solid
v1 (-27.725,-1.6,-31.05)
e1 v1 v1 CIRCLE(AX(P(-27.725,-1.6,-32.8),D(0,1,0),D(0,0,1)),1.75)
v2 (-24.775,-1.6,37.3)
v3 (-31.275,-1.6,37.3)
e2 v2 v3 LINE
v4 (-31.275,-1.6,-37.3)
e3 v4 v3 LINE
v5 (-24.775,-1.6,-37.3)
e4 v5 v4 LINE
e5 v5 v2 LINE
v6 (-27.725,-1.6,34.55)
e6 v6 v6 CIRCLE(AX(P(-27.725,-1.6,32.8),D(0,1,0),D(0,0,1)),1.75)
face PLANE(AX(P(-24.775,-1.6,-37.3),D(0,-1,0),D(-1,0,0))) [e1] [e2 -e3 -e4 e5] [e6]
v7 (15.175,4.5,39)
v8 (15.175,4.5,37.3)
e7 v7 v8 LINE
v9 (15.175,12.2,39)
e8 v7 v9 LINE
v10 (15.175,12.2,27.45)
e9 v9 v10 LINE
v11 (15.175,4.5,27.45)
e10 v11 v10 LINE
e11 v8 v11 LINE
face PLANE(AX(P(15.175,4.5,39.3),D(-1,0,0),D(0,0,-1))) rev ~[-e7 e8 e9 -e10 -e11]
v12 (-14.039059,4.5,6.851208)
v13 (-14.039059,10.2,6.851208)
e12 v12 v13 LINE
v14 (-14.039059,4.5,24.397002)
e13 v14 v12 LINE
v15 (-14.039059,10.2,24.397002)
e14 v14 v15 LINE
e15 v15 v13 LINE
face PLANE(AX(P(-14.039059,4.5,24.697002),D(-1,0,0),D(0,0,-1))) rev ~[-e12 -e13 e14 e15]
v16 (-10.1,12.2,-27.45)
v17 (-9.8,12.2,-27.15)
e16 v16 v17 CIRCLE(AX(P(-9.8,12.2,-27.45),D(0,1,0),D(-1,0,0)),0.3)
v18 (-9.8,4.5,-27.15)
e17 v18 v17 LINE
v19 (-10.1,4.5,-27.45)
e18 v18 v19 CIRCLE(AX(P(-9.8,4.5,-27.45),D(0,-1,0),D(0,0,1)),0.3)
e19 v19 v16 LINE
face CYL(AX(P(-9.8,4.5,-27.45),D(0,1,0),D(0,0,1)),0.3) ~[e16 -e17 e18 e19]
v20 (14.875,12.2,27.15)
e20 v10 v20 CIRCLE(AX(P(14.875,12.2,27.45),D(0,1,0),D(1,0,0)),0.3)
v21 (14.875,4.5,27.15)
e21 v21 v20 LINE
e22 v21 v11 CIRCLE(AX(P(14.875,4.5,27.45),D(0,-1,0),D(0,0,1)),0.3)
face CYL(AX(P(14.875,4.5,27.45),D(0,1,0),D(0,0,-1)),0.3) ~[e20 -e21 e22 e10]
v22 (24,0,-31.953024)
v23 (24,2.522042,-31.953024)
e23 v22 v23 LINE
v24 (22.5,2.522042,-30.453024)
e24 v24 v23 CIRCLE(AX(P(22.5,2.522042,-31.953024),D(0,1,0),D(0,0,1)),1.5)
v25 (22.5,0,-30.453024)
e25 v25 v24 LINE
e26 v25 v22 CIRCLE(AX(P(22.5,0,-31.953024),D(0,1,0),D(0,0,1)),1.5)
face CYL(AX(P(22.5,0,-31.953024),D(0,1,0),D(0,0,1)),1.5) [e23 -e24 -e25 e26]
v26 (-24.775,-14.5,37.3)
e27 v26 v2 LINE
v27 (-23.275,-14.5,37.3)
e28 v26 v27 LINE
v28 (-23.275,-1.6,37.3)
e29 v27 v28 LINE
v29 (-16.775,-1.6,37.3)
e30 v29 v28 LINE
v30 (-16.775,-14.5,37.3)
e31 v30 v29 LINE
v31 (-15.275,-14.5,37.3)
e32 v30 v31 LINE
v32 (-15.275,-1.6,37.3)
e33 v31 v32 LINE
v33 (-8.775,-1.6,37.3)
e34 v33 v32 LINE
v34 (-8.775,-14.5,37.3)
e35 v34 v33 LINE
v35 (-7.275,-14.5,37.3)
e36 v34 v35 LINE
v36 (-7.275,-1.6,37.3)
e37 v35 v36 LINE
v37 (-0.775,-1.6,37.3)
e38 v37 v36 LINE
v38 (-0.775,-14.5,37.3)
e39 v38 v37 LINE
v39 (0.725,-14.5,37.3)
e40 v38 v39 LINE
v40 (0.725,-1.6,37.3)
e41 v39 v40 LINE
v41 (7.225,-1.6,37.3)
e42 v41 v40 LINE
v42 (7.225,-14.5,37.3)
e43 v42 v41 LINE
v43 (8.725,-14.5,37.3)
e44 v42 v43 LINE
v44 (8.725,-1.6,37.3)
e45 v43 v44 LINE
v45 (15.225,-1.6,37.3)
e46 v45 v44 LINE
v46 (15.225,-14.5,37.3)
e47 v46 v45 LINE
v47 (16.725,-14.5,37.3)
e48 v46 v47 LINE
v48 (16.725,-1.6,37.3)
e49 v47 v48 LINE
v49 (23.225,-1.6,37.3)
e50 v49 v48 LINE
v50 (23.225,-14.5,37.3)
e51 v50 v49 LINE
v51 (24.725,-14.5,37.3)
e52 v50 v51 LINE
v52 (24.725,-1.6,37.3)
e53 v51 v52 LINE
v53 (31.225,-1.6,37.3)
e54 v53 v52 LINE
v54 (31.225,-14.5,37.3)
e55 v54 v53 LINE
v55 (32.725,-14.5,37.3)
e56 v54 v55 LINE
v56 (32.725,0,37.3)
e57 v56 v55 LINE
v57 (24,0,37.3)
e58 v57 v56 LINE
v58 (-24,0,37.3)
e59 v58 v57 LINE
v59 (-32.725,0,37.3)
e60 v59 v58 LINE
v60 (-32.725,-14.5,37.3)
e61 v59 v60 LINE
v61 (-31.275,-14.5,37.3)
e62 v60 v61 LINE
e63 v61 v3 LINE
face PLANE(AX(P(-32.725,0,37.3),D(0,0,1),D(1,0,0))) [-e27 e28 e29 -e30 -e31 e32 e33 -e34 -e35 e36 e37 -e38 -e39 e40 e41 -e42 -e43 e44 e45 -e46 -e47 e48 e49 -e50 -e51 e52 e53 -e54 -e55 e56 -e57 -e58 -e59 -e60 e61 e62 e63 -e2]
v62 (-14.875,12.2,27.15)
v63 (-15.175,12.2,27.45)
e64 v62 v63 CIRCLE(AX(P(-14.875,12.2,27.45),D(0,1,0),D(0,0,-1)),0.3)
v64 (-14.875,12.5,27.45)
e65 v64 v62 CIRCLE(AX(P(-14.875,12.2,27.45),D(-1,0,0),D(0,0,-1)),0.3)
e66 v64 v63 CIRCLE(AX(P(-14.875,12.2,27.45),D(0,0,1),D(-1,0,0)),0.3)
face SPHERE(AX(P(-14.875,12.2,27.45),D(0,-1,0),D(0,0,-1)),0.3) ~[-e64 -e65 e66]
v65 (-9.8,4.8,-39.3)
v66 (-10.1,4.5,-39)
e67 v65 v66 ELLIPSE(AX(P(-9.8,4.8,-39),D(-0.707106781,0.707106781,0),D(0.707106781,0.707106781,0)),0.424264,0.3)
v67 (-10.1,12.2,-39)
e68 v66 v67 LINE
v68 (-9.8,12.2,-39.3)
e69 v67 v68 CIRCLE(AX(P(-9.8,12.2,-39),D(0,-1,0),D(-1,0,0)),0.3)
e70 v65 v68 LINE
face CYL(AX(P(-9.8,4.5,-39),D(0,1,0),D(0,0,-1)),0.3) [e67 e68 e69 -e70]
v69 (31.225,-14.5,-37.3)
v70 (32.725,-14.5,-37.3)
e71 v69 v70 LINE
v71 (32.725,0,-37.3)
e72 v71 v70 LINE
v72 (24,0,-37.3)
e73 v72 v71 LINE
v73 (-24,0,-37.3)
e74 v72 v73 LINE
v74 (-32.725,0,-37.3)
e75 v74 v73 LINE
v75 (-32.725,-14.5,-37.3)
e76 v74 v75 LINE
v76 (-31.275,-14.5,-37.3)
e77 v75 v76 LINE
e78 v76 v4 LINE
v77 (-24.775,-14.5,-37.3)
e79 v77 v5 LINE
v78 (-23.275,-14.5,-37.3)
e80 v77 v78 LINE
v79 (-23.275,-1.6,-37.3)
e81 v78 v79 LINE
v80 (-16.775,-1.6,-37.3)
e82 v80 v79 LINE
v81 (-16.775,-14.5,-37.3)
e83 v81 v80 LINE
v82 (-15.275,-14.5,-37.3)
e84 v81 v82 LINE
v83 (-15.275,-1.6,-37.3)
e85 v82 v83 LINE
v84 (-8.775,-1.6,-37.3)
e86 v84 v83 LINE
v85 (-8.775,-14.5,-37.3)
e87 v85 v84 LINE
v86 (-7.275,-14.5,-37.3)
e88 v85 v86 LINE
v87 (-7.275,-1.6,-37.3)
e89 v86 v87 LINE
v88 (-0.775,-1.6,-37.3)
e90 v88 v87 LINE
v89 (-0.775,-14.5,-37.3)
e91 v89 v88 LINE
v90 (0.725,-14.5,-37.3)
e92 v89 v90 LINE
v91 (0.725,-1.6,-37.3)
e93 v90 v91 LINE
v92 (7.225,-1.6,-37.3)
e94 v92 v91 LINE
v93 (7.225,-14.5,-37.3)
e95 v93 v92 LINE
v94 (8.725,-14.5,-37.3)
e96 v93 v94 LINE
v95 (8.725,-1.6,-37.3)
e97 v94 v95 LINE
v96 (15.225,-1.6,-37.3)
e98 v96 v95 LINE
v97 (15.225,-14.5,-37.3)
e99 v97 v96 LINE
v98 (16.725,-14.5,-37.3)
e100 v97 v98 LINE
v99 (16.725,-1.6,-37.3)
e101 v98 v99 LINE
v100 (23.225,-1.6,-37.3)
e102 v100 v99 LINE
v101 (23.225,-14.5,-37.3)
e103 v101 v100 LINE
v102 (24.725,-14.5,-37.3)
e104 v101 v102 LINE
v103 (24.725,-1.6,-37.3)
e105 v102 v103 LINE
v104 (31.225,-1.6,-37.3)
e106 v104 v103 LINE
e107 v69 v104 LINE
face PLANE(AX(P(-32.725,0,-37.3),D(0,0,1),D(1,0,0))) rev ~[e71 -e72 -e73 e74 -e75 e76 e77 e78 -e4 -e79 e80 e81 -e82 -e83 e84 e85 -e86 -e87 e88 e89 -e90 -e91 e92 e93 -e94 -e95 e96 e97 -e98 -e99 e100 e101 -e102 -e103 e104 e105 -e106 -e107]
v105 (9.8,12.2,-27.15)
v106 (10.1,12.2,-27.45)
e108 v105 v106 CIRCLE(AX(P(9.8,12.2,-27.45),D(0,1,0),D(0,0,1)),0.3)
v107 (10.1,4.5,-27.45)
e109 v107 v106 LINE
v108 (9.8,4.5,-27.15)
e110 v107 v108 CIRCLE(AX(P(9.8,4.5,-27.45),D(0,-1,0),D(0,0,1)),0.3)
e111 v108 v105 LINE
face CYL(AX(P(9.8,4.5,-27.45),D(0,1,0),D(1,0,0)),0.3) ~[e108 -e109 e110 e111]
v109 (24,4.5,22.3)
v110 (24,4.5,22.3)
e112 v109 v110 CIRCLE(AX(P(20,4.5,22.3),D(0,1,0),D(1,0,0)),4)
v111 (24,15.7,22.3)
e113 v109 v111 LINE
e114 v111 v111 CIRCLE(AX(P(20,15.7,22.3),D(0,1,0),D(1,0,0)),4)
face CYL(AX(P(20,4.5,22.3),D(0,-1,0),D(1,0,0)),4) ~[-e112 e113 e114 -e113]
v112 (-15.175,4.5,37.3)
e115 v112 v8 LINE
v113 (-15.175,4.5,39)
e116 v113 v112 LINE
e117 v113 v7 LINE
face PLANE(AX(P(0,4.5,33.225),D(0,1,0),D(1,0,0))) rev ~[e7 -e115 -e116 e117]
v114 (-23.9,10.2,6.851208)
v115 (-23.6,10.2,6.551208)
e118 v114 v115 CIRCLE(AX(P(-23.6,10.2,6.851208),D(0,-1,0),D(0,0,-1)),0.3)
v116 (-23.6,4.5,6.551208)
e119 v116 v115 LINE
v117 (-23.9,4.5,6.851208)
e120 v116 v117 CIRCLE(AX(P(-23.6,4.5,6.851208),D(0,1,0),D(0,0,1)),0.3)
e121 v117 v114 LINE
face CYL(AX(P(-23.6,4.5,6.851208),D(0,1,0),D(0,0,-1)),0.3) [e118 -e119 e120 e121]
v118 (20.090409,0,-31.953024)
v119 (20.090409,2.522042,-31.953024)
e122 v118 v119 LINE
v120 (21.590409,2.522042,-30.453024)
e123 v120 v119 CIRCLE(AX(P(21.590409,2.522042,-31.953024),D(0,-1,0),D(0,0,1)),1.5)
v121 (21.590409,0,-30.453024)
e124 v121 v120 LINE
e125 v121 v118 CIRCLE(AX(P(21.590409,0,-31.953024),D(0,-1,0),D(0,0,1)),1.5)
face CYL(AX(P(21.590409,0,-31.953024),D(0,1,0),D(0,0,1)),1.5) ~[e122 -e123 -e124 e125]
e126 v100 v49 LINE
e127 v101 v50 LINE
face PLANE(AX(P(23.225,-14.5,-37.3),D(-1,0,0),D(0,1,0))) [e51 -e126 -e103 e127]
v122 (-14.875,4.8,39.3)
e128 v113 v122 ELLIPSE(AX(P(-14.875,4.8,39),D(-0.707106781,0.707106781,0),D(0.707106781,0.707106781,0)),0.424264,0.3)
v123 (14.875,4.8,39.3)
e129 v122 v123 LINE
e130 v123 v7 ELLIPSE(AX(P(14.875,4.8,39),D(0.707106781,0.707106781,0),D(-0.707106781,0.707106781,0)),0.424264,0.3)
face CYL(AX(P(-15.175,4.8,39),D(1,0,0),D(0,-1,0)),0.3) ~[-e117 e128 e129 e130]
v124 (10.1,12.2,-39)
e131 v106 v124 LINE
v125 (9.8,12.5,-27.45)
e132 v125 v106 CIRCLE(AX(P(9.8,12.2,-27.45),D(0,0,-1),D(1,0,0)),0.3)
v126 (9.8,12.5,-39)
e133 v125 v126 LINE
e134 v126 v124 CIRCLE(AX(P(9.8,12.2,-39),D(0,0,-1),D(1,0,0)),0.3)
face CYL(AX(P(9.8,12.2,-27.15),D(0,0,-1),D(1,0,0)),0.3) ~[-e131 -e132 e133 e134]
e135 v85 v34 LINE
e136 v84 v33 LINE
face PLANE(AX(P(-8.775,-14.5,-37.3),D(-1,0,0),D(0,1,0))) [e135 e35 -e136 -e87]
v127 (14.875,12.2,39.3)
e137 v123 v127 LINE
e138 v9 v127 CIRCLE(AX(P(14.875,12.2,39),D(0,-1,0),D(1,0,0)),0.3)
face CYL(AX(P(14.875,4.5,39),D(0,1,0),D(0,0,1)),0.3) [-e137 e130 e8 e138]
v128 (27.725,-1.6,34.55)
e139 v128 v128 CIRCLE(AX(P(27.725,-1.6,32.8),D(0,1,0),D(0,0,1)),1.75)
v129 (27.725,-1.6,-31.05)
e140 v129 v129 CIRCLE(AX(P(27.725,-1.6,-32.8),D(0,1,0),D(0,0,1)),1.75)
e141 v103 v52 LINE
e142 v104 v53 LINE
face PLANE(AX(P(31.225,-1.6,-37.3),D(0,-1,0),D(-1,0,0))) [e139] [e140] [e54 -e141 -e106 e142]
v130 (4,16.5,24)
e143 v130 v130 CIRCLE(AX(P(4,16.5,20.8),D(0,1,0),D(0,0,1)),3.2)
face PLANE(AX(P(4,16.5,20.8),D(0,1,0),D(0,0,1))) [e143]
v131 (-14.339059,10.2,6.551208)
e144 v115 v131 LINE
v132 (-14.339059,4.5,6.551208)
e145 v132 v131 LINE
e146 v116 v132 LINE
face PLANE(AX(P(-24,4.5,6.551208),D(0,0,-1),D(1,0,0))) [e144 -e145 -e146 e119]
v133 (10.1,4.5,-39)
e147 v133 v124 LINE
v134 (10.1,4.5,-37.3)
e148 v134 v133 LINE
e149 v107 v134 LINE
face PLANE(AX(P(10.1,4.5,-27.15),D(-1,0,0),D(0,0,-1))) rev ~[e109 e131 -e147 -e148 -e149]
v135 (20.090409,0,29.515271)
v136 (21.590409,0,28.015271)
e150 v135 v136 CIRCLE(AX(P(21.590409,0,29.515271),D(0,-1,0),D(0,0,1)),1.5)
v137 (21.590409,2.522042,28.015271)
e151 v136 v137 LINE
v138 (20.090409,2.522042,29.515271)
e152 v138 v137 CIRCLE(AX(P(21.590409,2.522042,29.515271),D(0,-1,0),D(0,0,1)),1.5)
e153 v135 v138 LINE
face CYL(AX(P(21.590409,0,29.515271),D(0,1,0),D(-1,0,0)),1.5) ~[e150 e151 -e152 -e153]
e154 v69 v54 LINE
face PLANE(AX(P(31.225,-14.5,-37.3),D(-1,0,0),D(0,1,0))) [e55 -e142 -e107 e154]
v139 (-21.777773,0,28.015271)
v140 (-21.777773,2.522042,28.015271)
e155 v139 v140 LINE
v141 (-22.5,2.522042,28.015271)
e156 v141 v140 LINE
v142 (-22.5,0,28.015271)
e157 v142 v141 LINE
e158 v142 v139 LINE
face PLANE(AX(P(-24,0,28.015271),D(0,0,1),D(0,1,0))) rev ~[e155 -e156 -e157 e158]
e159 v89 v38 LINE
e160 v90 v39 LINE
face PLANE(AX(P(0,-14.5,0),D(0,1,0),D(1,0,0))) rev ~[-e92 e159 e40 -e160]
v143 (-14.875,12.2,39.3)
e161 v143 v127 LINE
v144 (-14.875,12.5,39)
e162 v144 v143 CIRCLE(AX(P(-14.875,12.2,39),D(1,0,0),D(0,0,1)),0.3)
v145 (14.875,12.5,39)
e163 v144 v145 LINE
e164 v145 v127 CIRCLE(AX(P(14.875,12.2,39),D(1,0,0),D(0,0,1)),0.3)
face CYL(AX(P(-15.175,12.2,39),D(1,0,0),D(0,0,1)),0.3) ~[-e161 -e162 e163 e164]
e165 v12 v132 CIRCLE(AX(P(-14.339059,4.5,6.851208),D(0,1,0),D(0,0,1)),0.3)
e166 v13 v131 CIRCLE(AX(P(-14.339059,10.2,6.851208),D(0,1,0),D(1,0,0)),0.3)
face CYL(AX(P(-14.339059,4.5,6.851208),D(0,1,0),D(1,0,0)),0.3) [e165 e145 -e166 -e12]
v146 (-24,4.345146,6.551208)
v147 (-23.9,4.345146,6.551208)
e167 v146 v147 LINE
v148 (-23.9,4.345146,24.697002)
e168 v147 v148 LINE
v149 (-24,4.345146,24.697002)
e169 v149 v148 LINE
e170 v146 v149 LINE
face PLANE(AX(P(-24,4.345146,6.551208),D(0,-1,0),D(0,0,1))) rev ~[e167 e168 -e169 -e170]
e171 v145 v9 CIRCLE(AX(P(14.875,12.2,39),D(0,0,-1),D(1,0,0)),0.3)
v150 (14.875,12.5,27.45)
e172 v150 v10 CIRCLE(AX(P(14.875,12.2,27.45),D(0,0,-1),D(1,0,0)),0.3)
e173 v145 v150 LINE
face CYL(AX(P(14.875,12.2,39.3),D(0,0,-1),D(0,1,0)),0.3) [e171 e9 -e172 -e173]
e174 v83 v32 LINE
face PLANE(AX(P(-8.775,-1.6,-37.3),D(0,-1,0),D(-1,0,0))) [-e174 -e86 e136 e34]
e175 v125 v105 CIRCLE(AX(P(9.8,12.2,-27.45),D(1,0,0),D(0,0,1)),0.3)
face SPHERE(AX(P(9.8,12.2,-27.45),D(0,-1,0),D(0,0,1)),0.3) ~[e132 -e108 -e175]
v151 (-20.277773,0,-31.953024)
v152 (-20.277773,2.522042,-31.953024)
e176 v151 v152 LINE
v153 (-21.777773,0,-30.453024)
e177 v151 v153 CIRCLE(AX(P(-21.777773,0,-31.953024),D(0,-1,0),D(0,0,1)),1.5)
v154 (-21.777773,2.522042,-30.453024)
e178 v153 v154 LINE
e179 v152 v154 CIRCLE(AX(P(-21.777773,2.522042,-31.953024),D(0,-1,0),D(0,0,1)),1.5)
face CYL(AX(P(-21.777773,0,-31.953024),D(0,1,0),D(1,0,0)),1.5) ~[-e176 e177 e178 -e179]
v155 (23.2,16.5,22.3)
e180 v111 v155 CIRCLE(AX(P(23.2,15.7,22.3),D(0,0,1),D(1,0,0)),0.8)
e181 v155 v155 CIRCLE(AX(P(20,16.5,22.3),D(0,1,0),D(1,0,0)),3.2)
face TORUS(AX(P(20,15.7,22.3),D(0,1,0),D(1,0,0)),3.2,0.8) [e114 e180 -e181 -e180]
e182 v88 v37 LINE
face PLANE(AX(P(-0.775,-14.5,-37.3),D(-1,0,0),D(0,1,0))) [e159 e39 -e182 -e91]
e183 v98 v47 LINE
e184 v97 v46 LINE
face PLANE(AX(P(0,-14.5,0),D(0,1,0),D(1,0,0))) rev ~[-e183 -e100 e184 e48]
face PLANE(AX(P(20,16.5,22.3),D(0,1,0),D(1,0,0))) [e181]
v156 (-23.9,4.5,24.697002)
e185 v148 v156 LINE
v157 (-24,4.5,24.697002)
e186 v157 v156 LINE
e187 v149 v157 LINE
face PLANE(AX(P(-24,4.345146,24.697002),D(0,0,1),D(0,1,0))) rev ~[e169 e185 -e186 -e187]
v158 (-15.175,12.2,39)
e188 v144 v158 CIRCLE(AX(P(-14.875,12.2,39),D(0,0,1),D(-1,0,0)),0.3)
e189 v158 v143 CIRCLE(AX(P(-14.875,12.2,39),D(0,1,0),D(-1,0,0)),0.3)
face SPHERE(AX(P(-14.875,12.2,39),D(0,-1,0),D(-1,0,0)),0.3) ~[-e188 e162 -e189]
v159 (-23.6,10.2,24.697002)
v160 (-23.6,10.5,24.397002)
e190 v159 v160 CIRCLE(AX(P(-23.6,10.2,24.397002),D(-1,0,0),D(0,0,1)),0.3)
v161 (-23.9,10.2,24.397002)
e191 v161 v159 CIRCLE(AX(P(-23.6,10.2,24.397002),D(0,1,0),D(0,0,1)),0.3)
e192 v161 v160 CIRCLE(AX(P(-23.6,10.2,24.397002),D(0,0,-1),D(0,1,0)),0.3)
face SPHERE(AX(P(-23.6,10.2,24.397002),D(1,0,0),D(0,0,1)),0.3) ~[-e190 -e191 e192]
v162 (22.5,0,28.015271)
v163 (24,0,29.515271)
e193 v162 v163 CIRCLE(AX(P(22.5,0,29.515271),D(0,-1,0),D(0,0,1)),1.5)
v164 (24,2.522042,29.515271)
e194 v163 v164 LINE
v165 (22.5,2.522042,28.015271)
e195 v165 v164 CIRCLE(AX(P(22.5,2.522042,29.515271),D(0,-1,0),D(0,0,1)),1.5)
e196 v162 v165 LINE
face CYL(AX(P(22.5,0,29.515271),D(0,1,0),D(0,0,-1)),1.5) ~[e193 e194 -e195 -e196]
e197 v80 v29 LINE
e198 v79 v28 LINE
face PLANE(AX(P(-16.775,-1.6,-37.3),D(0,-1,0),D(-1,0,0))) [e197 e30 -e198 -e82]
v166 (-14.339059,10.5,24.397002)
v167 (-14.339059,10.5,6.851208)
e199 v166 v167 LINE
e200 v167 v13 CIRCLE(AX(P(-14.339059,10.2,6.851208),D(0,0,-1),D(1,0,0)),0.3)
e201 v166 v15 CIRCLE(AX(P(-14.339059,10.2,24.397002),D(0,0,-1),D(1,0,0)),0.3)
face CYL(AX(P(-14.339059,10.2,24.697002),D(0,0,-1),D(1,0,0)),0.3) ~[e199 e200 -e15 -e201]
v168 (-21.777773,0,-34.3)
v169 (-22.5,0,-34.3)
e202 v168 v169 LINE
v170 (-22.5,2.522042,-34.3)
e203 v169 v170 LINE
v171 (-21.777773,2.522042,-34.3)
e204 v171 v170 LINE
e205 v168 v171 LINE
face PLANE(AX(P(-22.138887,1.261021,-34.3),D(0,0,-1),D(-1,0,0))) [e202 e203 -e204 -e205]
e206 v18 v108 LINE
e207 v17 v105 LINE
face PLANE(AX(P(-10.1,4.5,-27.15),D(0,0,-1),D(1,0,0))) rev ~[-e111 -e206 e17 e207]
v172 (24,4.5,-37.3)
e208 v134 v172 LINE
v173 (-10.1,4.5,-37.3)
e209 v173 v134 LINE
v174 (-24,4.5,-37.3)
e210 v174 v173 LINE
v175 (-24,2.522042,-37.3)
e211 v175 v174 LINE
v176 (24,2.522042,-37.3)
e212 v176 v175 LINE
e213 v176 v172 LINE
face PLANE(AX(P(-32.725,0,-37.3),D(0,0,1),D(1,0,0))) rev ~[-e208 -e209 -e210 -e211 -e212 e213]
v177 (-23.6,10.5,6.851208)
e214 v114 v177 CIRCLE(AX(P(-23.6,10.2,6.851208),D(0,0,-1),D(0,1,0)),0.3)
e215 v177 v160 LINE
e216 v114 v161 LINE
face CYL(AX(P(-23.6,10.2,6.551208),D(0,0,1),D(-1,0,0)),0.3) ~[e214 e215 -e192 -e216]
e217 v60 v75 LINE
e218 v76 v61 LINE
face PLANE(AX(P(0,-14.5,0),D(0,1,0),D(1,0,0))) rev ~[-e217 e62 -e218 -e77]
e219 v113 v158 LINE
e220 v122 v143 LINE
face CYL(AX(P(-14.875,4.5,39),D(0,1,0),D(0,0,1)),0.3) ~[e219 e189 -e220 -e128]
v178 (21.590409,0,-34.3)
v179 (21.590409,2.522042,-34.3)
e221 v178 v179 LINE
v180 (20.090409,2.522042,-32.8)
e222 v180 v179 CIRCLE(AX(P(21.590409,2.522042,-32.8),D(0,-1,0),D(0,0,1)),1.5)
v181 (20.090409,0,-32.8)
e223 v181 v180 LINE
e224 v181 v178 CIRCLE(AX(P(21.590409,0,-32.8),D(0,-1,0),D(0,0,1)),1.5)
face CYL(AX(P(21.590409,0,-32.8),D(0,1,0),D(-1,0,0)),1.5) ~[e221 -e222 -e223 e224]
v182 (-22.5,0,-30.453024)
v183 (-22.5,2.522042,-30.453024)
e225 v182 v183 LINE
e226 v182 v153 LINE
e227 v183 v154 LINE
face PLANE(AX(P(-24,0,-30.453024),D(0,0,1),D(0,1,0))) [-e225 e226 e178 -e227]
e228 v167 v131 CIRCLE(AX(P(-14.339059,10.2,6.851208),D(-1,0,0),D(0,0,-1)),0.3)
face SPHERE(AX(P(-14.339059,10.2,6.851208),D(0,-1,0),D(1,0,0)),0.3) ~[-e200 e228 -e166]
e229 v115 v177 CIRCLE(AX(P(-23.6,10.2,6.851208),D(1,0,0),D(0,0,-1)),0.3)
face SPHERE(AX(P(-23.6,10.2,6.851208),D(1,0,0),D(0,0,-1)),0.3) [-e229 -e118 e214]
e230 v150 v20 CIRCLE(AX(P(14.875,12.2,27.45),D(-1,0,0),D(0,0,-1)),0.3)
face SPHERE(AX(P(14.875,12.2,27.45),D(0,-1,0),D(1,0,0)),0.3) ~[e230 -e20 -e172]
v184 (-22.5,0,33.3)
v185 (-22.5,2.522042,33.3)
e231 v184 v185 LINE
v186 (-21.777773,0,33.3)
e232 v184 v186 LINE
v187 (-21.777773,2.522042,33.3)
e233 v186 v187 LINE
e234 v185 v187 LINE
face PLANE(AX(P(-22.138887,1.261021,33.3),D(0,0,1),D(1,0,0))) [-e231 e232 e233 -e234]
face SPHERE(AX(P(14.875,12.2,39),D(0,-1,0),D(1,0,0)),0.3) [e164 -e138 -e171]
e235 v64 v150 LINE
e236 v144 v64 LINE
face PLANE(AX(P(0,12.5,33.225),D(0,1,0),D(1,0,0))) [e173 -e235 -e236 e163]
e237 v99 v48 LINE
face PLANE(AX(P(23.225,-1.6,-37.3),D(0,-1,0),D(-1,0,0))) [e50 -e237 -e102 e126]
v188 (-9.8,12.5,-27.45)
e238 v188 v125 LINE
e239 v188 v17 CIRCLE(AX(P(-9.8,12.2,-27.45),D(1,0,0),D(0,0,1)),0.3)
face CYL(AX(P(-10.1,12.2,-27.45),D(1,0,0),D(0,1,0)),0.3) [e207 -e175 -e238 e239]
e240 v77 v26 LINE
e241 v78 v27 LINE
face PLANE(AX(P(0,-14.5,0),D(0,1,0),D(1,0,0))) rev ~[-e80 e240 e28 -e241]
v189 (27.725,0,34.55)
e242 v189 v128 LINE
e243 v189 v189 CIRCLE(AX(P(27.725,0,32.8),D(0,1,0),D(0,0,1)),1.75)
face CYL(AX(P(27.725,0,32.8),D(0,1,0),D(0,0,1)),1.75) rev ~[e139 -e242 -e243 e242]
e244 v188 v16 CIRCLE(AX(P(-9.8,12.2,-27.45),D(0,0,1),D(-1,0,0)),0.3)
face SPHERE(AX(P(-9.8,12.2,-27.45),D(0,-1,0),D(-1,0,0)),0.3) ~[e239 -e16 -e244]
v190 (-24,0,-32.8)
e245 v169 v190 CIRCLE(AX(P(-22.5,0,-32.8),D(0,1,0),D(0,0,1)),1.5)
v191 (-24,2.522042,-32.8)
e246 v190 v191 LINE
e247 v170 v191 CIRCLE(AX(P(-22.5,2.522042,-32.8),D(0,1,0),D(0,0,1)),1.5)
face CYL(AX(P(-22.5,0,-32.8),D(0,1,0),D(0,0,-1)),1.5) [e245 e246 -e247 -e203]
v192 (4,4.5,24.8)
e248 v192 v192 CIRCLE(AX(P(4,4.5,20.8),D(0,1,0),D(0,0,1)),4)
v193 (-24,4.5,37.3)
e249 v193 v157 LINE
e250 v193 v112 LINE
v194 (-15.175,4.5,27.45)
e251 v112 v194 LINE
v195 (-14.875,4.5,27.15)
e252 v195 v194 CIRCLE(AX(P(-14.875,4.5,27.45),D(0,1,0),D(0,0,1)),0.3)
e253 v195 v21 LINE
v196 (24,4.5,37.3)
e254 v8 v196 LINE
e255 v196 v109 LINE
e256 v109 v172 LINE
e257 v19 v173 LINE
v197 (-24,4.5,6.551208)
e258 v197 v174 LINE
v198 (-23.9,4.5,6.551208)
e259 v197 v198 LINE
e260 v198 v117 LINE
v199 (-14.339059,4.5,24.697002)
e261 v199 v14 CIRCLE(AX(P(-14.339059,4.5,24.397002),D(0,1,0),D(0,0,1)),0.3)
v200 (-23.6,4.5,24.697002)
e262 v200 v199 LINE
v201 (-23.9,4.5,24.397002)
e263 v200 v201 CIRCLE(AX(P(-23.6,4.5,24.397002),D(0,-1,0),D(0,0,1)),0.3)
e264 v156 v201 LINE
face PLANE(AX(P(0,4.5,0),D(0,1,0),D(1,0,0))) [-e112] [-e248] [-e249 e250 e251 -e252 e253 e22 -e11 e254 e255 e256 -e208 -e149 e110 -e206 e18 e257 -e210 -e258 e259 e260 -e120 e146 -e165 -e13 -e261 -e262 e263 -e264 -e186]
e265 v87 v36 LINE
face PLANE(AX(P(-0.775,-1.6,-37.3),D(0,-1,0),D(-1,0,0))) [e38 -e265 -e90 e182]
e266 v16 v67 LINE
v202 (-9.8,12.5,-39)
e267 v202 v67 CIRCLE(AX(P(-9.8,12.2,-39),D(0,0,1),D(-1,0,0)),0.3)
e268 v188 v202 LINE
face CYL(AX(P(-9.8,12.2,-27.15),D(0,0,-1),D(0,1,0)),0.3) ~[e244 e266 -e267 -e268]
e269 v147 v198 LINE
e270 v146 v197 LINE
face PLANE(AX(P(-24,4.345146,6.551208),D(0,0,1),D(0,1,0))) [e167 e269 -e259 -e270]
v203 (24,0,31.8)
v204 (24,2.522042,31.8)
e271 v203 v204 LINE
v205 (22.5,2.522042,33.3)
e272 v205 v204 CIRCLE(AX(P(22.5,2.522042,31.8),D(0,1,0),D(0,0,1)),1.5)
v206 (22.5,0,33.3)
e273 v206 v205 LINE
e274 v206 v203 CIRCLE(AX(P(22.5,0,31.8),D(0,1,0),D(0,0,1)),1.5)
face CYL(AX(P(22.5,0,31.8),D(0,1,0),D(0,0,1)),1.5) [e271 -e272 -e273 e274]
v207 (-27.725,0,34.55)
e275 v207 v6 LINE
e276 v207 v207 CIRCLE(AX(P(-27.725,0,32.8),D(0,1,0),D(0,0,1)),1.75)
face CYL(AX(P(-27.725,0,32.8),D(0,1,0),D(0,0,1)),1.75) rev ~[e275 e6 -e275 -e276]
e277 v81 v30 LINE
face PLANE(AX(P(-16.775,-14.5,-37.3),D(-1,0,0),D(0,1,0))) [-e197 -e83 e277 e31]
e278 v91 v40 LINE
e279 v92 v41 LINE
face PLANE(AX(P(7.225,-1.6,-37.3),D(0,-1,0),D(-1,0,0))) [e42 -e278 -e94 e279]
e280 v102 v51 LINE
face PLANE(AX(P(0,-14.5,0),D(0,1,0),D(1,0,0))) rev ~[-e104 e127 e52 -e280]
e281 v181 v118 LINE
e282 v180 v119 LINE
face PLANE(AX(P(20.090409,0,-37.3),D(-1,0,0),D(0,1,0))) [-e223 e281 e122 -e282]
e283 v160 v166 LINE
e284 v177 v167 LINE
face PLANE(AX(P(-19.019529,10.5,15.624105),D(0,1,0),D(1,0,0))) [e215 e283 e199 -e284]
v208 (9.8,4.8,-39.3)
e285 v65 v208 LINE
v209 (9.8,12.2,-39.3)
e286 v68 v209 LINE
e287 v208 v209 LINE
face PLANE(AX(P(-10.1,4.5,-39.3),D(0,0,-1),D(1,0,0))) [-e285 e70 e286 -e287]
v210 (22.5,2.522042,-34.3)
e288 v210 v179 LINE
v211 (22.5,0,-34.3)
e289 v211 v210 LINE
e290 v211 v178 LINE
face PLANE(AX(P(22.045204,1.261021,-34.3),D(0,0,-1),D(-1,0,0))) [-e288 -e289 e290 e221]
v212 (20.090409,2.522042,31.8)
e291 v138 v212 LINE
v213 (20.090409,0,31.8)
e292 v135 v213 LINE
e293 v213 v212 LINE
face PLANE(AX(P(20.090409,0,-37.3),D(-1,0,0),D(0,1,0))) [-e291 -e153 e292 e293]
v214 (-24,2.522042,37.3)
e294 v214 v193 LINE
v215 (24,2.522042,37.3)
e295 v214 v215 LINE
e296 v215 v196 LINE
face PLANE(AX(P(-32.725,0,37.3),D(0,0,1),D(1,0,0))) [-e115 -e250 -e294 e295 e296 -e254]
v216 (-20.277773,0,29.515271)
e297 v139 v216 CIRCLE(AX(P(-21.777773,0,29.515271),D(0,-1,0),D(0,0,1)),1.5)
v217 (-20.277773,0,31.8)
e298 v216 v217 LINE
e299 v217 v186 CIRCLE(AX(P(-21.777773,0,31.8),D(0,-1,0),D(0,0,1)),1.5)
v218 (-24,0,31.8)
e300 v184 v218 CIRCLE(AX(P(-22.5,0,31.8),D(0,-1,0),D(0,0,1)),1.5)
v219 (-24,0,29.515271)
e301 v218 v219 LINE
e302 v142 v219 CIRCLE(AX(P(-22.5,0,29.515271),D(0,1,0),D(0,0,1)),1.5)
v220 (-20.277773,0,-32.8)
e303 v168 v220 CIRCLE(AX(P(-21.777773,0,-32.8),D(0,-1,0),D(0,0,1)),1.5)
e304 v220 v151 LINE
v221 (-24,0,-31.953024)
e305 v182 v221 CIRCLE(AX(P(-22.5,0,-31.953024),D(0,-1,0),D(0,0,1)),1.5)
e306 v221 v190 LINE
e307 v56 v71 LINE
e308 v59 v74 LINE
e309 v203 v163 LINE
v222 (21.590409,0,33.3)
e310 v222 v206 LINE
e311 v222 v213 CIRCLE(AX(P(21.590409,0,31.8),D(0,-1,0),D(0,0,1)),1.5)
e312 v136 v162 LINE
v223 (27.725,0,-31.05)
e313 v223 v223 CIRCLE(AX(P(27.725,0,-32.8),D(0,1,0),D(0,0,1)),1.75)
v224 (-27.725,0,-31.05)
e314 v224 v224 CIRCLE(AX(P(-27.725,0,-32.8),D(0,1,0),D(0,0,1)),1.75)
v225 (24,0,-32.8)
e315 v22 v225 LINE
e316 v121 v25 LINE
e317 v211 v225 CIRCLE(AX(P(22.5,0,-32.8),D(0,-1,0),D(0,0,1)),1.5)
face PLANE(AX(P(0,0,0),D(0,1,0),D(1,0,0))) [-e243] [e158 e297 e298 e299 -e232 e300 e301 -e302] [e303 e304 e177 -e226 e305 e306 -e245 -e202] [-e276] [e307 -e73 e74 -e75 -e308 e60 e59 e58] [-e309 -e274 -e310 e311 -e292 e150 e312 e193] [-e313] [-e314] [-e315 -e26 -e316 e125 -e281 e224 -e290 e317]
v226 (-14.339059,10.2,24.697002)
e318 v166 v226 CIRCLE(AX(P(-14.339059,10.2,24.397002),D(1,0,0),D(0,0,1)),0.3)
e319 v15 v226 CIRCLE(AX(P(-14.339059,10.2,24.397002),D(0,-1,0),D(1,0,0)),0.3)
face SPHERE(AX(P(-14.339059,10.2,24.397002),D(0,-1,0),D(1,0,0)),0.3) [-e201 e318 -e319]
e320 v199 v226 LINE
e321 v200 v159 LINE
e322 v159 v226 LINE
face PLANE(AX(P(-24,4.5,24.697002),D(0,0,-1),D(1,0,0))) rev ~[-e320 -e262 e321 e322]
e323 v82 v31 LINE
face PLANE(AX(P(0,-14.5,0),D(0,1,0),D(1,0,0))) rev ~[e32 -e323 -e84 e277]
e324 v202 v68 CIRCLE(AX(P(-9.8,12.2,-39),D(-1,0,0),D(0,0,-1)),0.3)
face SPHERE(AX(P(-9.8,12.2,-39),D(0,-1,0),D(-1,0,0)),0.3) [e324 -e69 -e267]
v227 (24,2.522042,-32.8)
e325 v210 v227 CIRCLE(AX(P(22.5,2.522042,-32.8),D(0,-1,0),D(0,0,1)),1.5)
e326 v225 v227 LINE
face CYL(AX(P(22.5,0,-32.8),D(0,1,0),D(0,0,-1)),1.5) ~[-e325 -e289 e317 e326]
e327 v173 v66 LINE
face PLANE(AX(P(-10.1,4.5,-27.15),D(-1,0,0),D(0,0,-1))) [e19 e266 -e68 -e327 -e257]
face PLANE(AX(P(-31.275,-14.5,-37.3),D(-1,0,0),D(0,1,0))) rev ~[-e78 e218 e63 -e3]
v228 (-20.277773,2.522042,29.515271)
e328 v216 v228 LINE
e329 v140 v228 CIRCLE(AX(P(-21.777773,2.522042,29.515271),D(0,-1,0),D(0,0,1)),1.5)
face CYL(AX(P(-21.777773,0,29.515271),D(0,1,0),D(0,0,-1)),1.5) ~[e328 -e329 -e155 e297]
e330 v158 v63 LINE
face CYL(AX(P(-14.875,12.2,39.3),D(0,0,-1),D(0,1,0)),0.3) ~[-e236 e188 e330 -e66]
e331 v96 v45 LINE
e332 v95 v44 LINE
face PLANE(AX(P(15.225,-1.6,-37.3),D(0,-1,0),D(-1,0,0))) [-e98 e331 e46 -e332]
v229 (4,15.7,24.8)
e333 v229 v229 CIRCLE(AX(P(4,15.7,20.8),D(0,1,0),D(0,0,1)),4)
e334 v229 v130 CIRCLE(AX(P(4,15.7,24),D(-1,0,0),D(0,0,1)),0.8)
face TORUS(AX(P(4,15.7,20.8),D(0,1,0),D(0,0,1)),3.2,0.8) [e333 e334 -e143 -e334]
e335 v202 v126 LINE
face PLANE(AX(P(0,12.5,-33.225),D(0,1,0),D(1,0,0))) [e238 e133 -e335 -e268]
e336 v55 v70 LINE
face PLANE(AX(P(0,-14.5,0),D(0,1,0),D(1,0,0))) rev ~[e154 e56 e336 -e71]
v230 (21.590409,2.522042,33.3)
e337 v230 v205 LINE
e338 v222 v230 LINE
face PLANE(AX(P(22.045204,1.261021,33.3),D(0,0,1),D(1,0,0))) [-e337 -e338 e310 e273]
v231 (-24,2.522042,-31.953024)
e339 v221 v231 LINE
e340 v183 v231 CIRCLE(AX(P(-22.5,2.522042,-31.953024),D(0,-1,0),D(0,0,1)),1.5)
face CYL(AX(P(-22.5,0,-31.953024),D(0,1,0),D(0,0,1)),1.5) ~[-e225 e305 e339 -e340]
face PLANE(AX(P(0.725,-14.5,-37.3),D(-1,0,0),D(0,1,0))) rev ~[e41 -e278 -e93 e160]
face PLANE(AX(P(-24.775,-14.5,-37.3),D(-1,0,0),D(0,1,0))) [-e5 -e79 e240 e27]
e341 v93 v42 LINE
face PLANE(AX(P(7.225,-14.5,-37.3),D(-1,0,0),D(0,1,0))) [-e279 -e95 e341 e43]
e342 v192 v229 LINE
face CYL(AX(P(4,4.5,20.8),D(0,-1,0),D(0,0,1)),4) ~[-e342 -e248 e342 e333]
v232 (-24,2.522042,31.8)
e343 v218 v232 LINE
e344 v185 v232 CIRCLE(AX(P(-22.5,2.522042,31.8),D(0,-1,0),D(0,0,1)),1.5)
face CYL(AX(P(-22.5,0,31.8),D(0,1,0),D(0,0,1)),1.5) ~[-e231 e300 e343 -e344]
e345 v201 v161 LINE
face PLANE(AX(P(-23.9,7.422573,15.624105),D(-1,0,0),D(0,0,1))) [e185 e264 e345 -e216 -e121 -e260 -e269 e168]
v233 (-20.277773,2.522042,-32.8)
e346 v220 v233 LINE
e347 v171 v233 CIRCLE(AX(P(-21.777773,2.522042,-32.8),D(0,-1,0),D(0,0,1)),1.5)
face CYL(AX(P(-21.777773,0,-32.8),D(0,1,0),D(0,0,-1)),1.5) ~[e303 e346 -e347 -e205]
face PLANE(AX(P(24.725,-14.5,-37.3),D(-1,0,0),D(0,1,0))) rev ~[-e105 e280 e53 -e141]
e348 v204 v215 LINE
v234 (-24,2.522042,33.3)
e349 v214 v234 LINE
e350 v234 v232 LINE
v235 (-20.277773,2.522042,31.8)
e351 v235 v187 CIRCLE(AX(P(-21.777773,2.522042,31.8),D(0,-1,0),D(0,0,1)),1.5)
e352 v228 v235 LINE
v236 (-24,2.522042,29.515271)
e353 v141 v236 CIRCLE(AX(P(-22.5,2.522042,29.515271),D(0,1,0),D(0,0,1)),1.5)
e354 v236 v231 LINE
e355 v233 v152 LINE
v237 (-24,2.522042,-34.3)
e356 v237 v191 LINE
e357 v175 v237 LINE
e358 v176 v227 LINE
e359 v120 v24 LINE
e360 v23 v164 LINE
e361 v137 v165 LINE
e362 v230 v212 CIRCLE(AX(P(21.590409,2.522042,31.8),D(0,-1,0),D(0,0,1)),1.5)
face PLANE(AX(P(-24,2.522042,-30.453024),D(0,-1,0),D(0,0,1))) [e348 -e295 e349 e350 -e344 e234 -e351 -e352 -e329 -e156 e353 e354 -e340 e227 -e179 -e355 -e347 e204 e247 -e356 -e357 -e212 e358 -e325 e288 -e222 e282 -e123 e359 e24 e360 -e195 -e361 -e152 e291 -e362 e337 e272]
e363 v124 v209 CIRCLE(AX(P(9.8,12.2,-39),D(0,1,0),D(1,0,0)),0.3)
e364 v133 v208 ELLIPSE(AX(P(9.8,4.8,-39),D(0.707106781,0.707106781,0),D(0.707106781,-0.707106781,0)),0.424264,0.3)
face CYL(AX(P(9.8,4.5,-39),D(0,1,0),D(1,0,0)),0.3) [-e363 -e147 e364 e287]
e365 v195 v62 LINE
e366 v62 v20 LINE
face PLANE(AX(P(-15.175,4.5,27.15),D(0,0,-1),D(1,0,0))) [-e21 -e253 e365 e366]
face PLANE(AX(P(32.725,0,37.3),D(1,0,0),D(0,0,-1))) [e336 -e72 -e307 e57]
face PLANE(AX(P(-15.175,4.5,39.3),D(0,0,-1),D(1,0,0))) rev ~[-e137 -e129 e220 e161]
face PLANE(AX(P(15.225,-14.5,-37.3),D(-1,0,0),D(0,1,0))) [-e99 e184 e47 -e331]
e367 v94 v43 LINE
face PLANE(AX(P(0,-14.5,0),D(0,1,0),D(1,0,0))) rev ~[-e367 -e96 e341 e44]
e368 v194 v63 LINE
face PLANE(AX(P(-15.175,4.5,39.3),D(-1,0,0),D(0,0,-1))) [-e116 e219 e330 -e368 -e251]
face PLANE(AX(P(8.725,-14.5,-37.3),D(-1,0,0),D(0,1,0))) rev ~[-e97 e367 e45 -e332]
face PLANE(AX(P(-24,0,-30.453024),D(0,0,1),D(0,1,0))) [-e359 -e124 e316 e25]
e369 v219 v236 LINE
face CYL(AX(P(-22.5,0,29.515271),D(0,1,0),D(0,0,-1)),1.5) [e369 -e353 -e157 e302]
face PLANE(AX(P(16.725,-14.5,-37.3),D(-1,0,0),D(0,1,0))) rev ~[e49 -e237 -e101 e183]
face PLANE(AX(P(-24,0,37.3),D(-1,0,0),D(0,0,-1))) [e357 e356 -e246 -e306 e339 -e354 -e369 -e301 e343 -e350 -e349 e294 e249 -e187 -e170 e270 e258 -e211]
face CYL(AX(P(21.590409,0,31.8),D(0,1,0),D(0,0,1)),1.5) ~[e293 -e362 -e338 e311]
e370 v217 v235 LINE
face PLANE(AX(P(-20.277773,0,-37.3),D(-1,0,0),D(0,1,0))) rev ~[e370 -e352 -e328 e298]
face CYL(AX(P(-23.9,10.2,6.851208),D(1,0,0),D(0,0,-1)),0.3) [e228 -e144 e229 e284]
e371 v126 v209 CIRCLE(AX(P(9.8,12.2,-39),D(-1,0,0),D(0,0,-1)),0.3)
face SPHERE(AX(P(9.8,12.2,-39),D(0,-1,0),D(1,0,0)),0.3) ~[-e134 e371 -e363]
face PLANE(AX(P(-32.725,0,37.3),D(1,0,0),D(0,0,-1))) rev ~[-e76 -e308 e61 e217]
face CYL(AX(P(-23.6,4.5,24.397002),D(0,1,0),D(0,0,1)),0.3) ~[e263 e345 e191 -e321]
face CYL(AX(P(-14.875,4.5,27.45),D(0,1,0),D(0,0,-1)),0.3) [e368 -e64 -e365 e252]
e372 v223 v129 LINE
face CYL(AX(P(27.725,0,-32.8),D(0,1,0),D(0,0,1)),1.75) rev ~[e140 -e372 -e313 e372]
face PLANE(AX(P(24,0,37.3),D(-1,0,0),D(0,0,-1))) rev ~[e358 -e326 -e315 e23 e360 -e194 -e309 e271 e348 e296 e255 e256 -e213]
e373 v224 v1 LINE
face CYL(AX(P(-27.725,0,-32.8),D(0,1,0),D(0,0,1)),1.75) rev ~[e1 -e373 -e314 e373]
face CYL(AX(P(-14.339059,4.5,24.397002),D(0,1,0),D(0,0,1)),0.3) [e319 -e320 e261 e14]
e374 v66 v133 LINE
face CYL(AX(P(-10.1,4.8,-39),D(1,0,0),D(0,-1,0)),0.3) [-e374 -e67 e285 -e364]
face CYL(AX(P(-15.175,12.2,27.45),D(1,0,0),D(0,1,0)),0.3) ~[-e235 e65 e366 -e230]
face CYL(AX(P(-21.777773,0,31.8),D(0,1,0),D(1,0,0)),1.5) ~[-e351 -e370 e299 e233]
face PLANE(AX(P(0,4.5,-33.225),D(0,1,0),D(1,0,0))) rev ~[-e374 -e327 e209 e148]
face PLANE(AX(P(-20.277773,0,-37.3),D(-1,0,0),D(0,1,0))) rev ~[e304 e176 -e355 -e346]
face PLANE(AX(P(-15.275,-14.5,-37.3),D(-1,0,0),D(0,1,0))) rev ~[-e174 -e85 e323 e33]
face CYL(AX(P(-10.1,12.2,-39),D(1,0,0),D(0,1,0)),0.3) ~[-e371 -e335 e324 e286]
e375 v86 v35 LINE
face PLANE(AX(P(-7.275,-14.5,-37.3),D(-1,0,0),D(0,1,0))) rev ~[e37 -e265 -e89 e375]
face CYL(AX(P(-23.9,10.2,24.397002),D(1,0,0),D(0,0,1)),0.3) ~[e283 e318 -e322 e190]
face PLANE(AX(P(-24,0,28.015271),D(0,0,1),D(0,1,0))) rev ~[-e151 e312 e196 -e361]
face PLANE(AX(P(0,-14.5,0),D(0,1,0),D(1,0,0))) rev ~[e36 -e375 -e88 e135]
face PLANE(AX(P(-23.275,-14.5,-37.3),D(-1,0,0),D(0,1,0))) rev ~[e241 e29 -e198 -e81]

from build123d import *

# Parameters (mm, degrees)
ESBO_O2_W                = 65.45
ESBO_O2_H                = 74.6
ESBO_O2_R                = 1.75
RESSALTO_EXTRUS_O1_DEPTH = 14.5
CORTE_EXTRUS_O1_REACH    = 84.743
ESBO_O3_W                = 6.5
ESBO_O3_H                = 12.9
ESBO_O4_W                = 48
ESBO_O4_H                = 74.6
RESSALTO_EXTRUS_O2_DEPTH = 4.5
ESBO_O5_W                = 20.2
ESBO_O5_H                = 12.15
ESBO_O5_W_2              = 30.35
RESSALTO_EXTRUS_O3_DEPTH = 8
ESBO_O6_R                = 4
RESSALTO_EXTRUS_O4_DEPTH = 12
FILETE1_R                = 0.8
CORTE_EXTRUS_O2_REACH    = 86.916
ESBO_O7_W                = 40.368182155
ESBO_O7_H                = 2.522042385
ESBO_O8_W                = 58.468294986
ESBO_O8_H                = 2.522042385
CORTE_EXTRUS_O3_DEPTH    = 71.953968353
ESBO_O9_W                = 3.722226521
ESBO_O9_H                = 2.522042385
ESBO_O9_W_2              = 3.909591324
CORTE_EXTRUS_O4_DEPTH    = 4
ESBO_O10_W               = 3.909591324
ESBO_O10_H               = 2.522042385
ESBO_O10_W_2             = 3.722226521
CORTE_EXTRUS_O5_DEPTH    = 3
FILETE2_R                = 1.5
FILETE3_R                = 0.3
ESBO_O11_W               = 9.960941138
ESBO_O11_H               = 18.14579458
RESSALTO_EXTRUS_O5_DEPTH = 6
ESBO_O12_W               = 18.14579458
ESBO_O12_H               = 6.154854005
CORTE_EXTRUS_O6_DEPTH    = 0.1
FILETE4_R                = 0.3


with BuildPart() as part:
    # Esboço2 → Ressalto-extrusão1 (new body)
    with BuildSketch(Plane(origin=(0, 0, 0), x_dir=(1, 0, 0), z_dir=(0, 1, 0))):
        Rectangle(ESBO_O2_W, ESBO_O2_H)
        with Locations(Location((27.725, 32.8, 0), (0, 0, 270))):
            Circle(ESBO_O2_R, mode=Mode.SUBTRACT)
        with Locations(Location((-27.725, 32.8, 0), (0, 0, 270))):
            Circle(ESBO_O2_R, mode=Mode.SUBTRACT)
        with Locations(Location((27.725, -32.8, 0), (0, 0, 270))):
            Circle(ESBO_O2_R, mode=Mode.SUBTRACT)
        with Locations(Location((-27.725, -32.8, 0), (0, 0, 270))):
            Circle(ESBO_O2_R, mode=Mode.SUBTRACT)
    extrude(amount=-RESSALTO_EXTRUS_O1_DEPTH)

    # Esboço3 → Corte-extrusão1 (cut, up to next)
    with BuildSketch(Plane(origin=(0, 0, -37.3), x_dir=(-1, 0, 0), z_dir=(0, 0, -1)), mode=Mode.PRIVATE) as corte_extrus_o1_sk1:
        with Locations((-27.975, -8.05)):
            Rectangle(ESBO_O3_W, ESBO_O3_H)
    corte_extrus_o1_tool1 = extrude(corte_extrus_o1_sk1.sketch, amount=-CORTE_EXTRUS_O1_REACH, mode=Mode.PRIVATE) & part.part
    # Esboço3 → Corte-extrusão1 (cut, up to next)
    with BuildSketch(Plane(origin=(0, 0, -37.3), x_dir=(-1, 0, 0), z_dir=(0, 0, -1)), mode=Mode.PRIVATE) as corte_extrus_o1_sk2:
        with Locations((-19.975, -8.05)):
            Rectangle(ESBO_O3_W, ESBO_O3_H)
    corte_extrus_o1_tool2 = extrude(corte_extrus_o1_sk2.sketch, amount=-CORTE_EXTRUS_O1_REACH, mode=Mode.PRIVATE) & part.part
    # Esboço3 → Corte-extrusão1 (cut, up to next)
    with BuildSketch(Plane(origin=(0, 0, -37.3), x_dir=(-1, 0, 0), z_dir=(0, 0, -1)), mode=Mode.PRIVATE) as corte_extrus_o1_sk3:
        with Locations((-11.975, -8.05)):
            Rectangle(ESBO_O3_W, ESBO_O3_H)
    corte_extrus_o1_tool3 = extrude(corte_extrus_o1_sk3.sketch, amount=-CORTE_EXTRUS_O1_REACH, mode=Mode.PRIVATE) & part.part
    # Esboço3 → Corte-extrusão1 (cut, up to next)
    with BuildSketch(Plane(origin=(0, 0, -37.3), x_dir=(-1, 0, 0), z_dir=(0, 0, -1)), mode=Mode.PRIVATE) as corte_extrus_o1_sk4:
        with Locations((-3.975, -8.05)):
            Rectangle(ESBO_O3_W, ESBO_O3_H)
    corte_extrus_o1_tool4 = extrude(corte_extrus_o1_sk4.sketch, amount=-CORTE_EXTRUS_O1_REACH, mode=Mode.PRIVATE) & part.part
    # Esboço3 → Corte-extrusão1 (cut, up to next)
    with BuildSketch(Plane(origin=(0, 0, -37.3), x_dir=(-1, 0, 0), z_dir=(0, 0, -1)), mode=Mode.PRIVATE) as corte_extrus_o1_sk5:
        with Locations((4.025, -8.05)):
            Rectangle(ESBO_O3_W, ESBO_O3_H)
    corte_extrus_o1_tool5 = extrude(corte_extrus_o1_sk5.sketch, amount=-CORTE_EXTRUS_O1_REACH, mode=Mode.PRIVATE) & part.part
    # Esboço3 → Corte-extrusão1 (cut, up to next)
    with BuildSketch(Plane(origin=(0, 0, -37.3), x_dir=(-1, 0, 0), z_dir=(0, 0, -1)), mode=Mode.PRIVATE) as corte_extrus_o1_sk6:
        with Locations((12.025, -8.05)):
            Rectangle(ESBO_O3_W, ESBO_O3_H)
    corte_extrus_o1_tool6 = extrude(corte_extrus_o1_sk6.sketch, amount=-CORTE_EXTRUS_O1_REACH, mode=Mode.PRIVATE) & part.part
    # Esboço3 → Corte-extrusão1 (cut, up to next)
    with BuildSketch(Plane(origin=(0, 0, -37.3), x_dir=(-1, 0, 0), z_dir=(0, 0, -1)), mode=Mode.PRIVATE) as corte_extrus_o1_sk7:
        with Locations((20.025, -8.05)):
            Rectangle(ESBO_O3_W, ESBO_O3_H)
    corte_extrus_o1_tool7 = extrude(corte_extrus_o1_sk7.sketch, amount=-CORTE_EXTRUS_O1_REACH, mode=Mode.PRIVATE) & part.part
    # Esboço3 → Corte-extrusão1 (cut, up to next)
    with BuildSketch(Plane(origin=(0, 0, -37.3), x_dir=(-1, 0, 0), z_dir=(0, 0, -1)), mode=Mode.PRIVATE) as corte_extrus_o1_sk8:
        with Locations((28.025, -8.05)):
            Rectangle(ESBO_O3_W, ESBO_O3_H)
    corte_extrus_o1_tool8 = extrude(corte_extrus_o1_sk8.sketch, amount=-CORTE_EXTRUS_O1_REACH, mode=Mode.PRIVATE) & part.part
    add(corte_extrus_o1_tool1.solids().sort_by_distance((27.975, -8.05, -37.3))[0], mode=Mode.SUBTRACT)
    add(corte_extrus_o1_tool2.solids().sort_by_distance((19.975, -8.05, -37.3))[0], mode=Mode.SUBTRACT)
    add(corte_extrus_o1_tool3.solids().sort_by_distance((11.975, -8.05, -37.3))[0], mode=Mode.SUBTRACT)
    add(corte_extrus_o1_tool4.solids().sort_by_distance((3.975, -8.05, -37.3))[0], mode=Mode.SUBTRACT)
    add(corte_extrus_o1_tool5.solids().sort_by_distance((-4.025, -8.05, -37.3))[0], mode=Mode.SUBTRACT)
    add(corte_extrus_o1_tool6.solids().sort_by_distance((-12.025, -8.05, -37.3))[0], mode=Mode.SUBTRACT)
    add(corte_extrus_o1_tool7.solids().sort_by_distance((-20.025, -8.05, -37.3))[0], mode=Mode.SUBTRACT)
    add(corte_extrus_o1_tool8.solids().sort_by_distance((-28.025, -8.05, -37.3))[0], mode=Mode.SUBTRACT)

    # Esboço4 → Ressalto-extrusão2 (add)
    with BuildSketch(Plane(origin=(0, 0, 0), x_dir=(1, 0, 0), z_dir=(0, 1, 0))):
        Rectangle(ESBO_O4_W, ESBO_O4_H)
    extrude(amount=RESSALTO_EXTRUS_O2_DEPTH)

    # Esboço5 → Ressalto-extrusão3 (add)
    with BuildSketch(Plane(origin=(0, 4.5, 0), x_dir=(1, 0, 0), z_dir=(0, 1, 0))):
        with Locations((0, 33.225)):
            Rectangle(ESBO_O5_W, ESBO_O5_H)
        with Locations((0, -33.225)):
            Rectangle(ESBO_O5_W_2, ESBO_O5_H)
    extrude(amount=RESSALTO_EXTRUS_O3_DEPTH)

    # Esboço6 → Ressalto-extrusão4 (add)
    with BuildSketch(Plane(origin=(0, 4.5, 0), x_dir=(1, 0, 0), z_dir=(0, 1, 0))):
        with Locations((20, -22.3)):
            Circle(ESBO_O6_R)
        with Locations(Location((4, -20.8, 0), (0, 0, 270))):
            Circle(ESBO_O6_R)
    extrude(amount=RESSALTO_EXTRUS_O4_DEPTH)

    # Filete1
    filete1_edges = [part.edges().sort_by_distance(p)[0] for p in [
        (16, 16.5, 22.3),
        (4, 16.5, 16.8),
    ]]
    fillet(filete1_edges, radius=FILETE1_R)

    # Esboço7 → Corte-extrusão2 (cut, up to next)
    with BuildSketch(Plane(origin=(0, 0, -37.3), x_dir=(-1, 0, 0), z_dir=(0, 0, -1)), mode=Mode.PRIVATE) as corte_extrus_o2_sk1:
        with Locations((0.093682401, 1.261021193)):
            Rectangle(ESBO_O7_W, ESBO_O7_H)
    corte_extrus_o2_tool1 = extrude(corte_extrus_o2_sk1.sketch, amount=-CORTE_EXTRUS_O2_REACH, mode=Mode.PRIVATE) & part.part
    add(corte_extrus_o2_tool1.solids().sort_by_distance((-0.093682, 1.261021, -37.3))[0], mode=Mode.SUBTRACT)

    # Esboço8 → Corte-extrusão3 (cut, through all)
    with BuildSketch(Plane.ZY.offset(24)):
        with Locations((-1.218876055, 1.261021193)):
            Rectangle(ESBO_O8_W, ESBO_O8_H)
    extrude(amount=-CORTE_EXTRUS_O3_DEPTH, mode=Mode.SUBTRACT)

    # Esboço9 → Corte-extrusão4 (cut)
    with BuildSketch(Plane.XY.offset(37.3)):
        with Locations((-22.13888674, 1.261021193)):
            Rectangle(ESBO_O9_W, ESBO_O9_H)
        with Locations((22.045204338, 1.261021193)):
            Rectangle(ESBO_O9_W_2, ESBO_O9_H)
    extrude(amount=-CORTE_EXTRUS_O4_DEPTH, mode=Mode.SUBTRACT)

    # Esboço10 → Corte-extrusão5 (cut)
    with BuildSketch(Plane(origin=(0, 0, -37.3), x_dir=(-1, 0, 0), z_dir=(0, 0, -1))):
        with Locations((-22.045204338, 1.261021193)):
            Rectangle(ESBO_O10_W, ESBO_O10_H)
        with Locations((22.13888674, 1.261021193)):
            Rectangle(ESBO_O10_W_2, ESBO_O10_H)
    extrude(amount=-CORTE_EXTRUS_O5_DEPTH, mode=Mode.SUBTRACT)

    # Filete2
    filete2_edges = [part.edges().sort_by_distance(p)[0] for p in [
        (24, 1.261021193, -30.453023548),
        (20.090408676, 1.261021193, -30.453023548),
        (-20.277773479, 1.261021193, -30.453023548),
        (24, 1.261021193, 28.015271438),
        (20.090408676, 1.261021193, 28.015271438),
        (-20.277773479, 1.261021193, 28.015271438),
        (-24, 1.261021193, -30.453023548),
        (-24, 1.261021193, 28.015271438),
        (-20.277773479, 1.261021193, 33.3),
        (-24, 1.261021193, 33.3),
        (20.090408676, 1.261021193, 33.3),
        (24, 1.261021193, 33.3),
        (20.090408676, 1.261021193, -34.3),
        (24, 1.261021193, -34.3),
        (-20.277773479, 1.261021193, -34.3),
        (-24, 1.261021193, -34.3),
    ]]
    fillet(filete2_edges, radius=FILETE2_R)

    # Filete3
    filete3_edges = [part.edges().sort_by_distance(p)[0] for p in [
        (-10.1, 8.5, -39.3),
        (-10.1, 8.5, -27.15),
        (10.1, 8.5, -27.15),
        (0, 4.5, -39.3),
        (10.1, 8.5, -39.3),
        (-10.1, 12.5, -33.225),
        (0, 12.5, -27.15),
        (10.1, 12.5, -33.225),
        (0, 12.5, -39.3),
        (15.175, 8.5, 39.3),
        (15.175, 8.5, 27.15),
        (-15.175, 8.5, 27.15),
        (0, 4.5, 39.3),
        (-15.175, 8.5, 39.3),
        (15.175, 12.5, 33.225),
        (0, 12.5, 27.15),
        (-15.175, 12.5, 33.225),
        (0, 12.5, 39.3),
    ]]
    fillet(filete3_edges, radius=FILETE3_R)

    # Esboço11 → Ressalto-extrusão5 (add)
    with BuildSketch(Plane(origin=(0, 4.5, 0), x_dir=(1, 0, 0), z_dir=(0, 1, 0))):
        with Locations((-19.019529431, -15.624104827)):
            Rectangle(ESBO_O11_W, ESBO_O11_H)
    extrude(amount=RESSALTO_EXTRUS_O5_DEPTH)

    # Esboço12 → Corte-extrusão6 (cut)
    with BuildSketch(Plane.ZY.offset(24)):
        with Locations((15.624104827, 7.422572997)):
            Rectangle(ESBO_O12_W, ESBO_O12_H)
    extrude(amount=-CORTE_EXTRUS_O6_DEPTH, mode=Mode.SUBTRACT)

    # Filete4
    filete4_edges = [part.edges().sort_by_distance(p)[0] for p in [
        (-14.039058862, 7.5, 24.697002117),
        (-14.039058862, 7.5, 6.551207537),
        (-14.039058862, 10.5, 15.624104827),
        (-18.969529431, 10.5, 6.551207537),
        (-18.969529431, 10.5, 24.697002117),
        (-23.9, 7.5, 6.551207537),
        (-23.9, 7.5, 24.697002117),
        (-23.9, 10.5, 15.624104827),
    ]]
    fillet(filete4_edges, radius=FILETE4_R)


solid = part.part
